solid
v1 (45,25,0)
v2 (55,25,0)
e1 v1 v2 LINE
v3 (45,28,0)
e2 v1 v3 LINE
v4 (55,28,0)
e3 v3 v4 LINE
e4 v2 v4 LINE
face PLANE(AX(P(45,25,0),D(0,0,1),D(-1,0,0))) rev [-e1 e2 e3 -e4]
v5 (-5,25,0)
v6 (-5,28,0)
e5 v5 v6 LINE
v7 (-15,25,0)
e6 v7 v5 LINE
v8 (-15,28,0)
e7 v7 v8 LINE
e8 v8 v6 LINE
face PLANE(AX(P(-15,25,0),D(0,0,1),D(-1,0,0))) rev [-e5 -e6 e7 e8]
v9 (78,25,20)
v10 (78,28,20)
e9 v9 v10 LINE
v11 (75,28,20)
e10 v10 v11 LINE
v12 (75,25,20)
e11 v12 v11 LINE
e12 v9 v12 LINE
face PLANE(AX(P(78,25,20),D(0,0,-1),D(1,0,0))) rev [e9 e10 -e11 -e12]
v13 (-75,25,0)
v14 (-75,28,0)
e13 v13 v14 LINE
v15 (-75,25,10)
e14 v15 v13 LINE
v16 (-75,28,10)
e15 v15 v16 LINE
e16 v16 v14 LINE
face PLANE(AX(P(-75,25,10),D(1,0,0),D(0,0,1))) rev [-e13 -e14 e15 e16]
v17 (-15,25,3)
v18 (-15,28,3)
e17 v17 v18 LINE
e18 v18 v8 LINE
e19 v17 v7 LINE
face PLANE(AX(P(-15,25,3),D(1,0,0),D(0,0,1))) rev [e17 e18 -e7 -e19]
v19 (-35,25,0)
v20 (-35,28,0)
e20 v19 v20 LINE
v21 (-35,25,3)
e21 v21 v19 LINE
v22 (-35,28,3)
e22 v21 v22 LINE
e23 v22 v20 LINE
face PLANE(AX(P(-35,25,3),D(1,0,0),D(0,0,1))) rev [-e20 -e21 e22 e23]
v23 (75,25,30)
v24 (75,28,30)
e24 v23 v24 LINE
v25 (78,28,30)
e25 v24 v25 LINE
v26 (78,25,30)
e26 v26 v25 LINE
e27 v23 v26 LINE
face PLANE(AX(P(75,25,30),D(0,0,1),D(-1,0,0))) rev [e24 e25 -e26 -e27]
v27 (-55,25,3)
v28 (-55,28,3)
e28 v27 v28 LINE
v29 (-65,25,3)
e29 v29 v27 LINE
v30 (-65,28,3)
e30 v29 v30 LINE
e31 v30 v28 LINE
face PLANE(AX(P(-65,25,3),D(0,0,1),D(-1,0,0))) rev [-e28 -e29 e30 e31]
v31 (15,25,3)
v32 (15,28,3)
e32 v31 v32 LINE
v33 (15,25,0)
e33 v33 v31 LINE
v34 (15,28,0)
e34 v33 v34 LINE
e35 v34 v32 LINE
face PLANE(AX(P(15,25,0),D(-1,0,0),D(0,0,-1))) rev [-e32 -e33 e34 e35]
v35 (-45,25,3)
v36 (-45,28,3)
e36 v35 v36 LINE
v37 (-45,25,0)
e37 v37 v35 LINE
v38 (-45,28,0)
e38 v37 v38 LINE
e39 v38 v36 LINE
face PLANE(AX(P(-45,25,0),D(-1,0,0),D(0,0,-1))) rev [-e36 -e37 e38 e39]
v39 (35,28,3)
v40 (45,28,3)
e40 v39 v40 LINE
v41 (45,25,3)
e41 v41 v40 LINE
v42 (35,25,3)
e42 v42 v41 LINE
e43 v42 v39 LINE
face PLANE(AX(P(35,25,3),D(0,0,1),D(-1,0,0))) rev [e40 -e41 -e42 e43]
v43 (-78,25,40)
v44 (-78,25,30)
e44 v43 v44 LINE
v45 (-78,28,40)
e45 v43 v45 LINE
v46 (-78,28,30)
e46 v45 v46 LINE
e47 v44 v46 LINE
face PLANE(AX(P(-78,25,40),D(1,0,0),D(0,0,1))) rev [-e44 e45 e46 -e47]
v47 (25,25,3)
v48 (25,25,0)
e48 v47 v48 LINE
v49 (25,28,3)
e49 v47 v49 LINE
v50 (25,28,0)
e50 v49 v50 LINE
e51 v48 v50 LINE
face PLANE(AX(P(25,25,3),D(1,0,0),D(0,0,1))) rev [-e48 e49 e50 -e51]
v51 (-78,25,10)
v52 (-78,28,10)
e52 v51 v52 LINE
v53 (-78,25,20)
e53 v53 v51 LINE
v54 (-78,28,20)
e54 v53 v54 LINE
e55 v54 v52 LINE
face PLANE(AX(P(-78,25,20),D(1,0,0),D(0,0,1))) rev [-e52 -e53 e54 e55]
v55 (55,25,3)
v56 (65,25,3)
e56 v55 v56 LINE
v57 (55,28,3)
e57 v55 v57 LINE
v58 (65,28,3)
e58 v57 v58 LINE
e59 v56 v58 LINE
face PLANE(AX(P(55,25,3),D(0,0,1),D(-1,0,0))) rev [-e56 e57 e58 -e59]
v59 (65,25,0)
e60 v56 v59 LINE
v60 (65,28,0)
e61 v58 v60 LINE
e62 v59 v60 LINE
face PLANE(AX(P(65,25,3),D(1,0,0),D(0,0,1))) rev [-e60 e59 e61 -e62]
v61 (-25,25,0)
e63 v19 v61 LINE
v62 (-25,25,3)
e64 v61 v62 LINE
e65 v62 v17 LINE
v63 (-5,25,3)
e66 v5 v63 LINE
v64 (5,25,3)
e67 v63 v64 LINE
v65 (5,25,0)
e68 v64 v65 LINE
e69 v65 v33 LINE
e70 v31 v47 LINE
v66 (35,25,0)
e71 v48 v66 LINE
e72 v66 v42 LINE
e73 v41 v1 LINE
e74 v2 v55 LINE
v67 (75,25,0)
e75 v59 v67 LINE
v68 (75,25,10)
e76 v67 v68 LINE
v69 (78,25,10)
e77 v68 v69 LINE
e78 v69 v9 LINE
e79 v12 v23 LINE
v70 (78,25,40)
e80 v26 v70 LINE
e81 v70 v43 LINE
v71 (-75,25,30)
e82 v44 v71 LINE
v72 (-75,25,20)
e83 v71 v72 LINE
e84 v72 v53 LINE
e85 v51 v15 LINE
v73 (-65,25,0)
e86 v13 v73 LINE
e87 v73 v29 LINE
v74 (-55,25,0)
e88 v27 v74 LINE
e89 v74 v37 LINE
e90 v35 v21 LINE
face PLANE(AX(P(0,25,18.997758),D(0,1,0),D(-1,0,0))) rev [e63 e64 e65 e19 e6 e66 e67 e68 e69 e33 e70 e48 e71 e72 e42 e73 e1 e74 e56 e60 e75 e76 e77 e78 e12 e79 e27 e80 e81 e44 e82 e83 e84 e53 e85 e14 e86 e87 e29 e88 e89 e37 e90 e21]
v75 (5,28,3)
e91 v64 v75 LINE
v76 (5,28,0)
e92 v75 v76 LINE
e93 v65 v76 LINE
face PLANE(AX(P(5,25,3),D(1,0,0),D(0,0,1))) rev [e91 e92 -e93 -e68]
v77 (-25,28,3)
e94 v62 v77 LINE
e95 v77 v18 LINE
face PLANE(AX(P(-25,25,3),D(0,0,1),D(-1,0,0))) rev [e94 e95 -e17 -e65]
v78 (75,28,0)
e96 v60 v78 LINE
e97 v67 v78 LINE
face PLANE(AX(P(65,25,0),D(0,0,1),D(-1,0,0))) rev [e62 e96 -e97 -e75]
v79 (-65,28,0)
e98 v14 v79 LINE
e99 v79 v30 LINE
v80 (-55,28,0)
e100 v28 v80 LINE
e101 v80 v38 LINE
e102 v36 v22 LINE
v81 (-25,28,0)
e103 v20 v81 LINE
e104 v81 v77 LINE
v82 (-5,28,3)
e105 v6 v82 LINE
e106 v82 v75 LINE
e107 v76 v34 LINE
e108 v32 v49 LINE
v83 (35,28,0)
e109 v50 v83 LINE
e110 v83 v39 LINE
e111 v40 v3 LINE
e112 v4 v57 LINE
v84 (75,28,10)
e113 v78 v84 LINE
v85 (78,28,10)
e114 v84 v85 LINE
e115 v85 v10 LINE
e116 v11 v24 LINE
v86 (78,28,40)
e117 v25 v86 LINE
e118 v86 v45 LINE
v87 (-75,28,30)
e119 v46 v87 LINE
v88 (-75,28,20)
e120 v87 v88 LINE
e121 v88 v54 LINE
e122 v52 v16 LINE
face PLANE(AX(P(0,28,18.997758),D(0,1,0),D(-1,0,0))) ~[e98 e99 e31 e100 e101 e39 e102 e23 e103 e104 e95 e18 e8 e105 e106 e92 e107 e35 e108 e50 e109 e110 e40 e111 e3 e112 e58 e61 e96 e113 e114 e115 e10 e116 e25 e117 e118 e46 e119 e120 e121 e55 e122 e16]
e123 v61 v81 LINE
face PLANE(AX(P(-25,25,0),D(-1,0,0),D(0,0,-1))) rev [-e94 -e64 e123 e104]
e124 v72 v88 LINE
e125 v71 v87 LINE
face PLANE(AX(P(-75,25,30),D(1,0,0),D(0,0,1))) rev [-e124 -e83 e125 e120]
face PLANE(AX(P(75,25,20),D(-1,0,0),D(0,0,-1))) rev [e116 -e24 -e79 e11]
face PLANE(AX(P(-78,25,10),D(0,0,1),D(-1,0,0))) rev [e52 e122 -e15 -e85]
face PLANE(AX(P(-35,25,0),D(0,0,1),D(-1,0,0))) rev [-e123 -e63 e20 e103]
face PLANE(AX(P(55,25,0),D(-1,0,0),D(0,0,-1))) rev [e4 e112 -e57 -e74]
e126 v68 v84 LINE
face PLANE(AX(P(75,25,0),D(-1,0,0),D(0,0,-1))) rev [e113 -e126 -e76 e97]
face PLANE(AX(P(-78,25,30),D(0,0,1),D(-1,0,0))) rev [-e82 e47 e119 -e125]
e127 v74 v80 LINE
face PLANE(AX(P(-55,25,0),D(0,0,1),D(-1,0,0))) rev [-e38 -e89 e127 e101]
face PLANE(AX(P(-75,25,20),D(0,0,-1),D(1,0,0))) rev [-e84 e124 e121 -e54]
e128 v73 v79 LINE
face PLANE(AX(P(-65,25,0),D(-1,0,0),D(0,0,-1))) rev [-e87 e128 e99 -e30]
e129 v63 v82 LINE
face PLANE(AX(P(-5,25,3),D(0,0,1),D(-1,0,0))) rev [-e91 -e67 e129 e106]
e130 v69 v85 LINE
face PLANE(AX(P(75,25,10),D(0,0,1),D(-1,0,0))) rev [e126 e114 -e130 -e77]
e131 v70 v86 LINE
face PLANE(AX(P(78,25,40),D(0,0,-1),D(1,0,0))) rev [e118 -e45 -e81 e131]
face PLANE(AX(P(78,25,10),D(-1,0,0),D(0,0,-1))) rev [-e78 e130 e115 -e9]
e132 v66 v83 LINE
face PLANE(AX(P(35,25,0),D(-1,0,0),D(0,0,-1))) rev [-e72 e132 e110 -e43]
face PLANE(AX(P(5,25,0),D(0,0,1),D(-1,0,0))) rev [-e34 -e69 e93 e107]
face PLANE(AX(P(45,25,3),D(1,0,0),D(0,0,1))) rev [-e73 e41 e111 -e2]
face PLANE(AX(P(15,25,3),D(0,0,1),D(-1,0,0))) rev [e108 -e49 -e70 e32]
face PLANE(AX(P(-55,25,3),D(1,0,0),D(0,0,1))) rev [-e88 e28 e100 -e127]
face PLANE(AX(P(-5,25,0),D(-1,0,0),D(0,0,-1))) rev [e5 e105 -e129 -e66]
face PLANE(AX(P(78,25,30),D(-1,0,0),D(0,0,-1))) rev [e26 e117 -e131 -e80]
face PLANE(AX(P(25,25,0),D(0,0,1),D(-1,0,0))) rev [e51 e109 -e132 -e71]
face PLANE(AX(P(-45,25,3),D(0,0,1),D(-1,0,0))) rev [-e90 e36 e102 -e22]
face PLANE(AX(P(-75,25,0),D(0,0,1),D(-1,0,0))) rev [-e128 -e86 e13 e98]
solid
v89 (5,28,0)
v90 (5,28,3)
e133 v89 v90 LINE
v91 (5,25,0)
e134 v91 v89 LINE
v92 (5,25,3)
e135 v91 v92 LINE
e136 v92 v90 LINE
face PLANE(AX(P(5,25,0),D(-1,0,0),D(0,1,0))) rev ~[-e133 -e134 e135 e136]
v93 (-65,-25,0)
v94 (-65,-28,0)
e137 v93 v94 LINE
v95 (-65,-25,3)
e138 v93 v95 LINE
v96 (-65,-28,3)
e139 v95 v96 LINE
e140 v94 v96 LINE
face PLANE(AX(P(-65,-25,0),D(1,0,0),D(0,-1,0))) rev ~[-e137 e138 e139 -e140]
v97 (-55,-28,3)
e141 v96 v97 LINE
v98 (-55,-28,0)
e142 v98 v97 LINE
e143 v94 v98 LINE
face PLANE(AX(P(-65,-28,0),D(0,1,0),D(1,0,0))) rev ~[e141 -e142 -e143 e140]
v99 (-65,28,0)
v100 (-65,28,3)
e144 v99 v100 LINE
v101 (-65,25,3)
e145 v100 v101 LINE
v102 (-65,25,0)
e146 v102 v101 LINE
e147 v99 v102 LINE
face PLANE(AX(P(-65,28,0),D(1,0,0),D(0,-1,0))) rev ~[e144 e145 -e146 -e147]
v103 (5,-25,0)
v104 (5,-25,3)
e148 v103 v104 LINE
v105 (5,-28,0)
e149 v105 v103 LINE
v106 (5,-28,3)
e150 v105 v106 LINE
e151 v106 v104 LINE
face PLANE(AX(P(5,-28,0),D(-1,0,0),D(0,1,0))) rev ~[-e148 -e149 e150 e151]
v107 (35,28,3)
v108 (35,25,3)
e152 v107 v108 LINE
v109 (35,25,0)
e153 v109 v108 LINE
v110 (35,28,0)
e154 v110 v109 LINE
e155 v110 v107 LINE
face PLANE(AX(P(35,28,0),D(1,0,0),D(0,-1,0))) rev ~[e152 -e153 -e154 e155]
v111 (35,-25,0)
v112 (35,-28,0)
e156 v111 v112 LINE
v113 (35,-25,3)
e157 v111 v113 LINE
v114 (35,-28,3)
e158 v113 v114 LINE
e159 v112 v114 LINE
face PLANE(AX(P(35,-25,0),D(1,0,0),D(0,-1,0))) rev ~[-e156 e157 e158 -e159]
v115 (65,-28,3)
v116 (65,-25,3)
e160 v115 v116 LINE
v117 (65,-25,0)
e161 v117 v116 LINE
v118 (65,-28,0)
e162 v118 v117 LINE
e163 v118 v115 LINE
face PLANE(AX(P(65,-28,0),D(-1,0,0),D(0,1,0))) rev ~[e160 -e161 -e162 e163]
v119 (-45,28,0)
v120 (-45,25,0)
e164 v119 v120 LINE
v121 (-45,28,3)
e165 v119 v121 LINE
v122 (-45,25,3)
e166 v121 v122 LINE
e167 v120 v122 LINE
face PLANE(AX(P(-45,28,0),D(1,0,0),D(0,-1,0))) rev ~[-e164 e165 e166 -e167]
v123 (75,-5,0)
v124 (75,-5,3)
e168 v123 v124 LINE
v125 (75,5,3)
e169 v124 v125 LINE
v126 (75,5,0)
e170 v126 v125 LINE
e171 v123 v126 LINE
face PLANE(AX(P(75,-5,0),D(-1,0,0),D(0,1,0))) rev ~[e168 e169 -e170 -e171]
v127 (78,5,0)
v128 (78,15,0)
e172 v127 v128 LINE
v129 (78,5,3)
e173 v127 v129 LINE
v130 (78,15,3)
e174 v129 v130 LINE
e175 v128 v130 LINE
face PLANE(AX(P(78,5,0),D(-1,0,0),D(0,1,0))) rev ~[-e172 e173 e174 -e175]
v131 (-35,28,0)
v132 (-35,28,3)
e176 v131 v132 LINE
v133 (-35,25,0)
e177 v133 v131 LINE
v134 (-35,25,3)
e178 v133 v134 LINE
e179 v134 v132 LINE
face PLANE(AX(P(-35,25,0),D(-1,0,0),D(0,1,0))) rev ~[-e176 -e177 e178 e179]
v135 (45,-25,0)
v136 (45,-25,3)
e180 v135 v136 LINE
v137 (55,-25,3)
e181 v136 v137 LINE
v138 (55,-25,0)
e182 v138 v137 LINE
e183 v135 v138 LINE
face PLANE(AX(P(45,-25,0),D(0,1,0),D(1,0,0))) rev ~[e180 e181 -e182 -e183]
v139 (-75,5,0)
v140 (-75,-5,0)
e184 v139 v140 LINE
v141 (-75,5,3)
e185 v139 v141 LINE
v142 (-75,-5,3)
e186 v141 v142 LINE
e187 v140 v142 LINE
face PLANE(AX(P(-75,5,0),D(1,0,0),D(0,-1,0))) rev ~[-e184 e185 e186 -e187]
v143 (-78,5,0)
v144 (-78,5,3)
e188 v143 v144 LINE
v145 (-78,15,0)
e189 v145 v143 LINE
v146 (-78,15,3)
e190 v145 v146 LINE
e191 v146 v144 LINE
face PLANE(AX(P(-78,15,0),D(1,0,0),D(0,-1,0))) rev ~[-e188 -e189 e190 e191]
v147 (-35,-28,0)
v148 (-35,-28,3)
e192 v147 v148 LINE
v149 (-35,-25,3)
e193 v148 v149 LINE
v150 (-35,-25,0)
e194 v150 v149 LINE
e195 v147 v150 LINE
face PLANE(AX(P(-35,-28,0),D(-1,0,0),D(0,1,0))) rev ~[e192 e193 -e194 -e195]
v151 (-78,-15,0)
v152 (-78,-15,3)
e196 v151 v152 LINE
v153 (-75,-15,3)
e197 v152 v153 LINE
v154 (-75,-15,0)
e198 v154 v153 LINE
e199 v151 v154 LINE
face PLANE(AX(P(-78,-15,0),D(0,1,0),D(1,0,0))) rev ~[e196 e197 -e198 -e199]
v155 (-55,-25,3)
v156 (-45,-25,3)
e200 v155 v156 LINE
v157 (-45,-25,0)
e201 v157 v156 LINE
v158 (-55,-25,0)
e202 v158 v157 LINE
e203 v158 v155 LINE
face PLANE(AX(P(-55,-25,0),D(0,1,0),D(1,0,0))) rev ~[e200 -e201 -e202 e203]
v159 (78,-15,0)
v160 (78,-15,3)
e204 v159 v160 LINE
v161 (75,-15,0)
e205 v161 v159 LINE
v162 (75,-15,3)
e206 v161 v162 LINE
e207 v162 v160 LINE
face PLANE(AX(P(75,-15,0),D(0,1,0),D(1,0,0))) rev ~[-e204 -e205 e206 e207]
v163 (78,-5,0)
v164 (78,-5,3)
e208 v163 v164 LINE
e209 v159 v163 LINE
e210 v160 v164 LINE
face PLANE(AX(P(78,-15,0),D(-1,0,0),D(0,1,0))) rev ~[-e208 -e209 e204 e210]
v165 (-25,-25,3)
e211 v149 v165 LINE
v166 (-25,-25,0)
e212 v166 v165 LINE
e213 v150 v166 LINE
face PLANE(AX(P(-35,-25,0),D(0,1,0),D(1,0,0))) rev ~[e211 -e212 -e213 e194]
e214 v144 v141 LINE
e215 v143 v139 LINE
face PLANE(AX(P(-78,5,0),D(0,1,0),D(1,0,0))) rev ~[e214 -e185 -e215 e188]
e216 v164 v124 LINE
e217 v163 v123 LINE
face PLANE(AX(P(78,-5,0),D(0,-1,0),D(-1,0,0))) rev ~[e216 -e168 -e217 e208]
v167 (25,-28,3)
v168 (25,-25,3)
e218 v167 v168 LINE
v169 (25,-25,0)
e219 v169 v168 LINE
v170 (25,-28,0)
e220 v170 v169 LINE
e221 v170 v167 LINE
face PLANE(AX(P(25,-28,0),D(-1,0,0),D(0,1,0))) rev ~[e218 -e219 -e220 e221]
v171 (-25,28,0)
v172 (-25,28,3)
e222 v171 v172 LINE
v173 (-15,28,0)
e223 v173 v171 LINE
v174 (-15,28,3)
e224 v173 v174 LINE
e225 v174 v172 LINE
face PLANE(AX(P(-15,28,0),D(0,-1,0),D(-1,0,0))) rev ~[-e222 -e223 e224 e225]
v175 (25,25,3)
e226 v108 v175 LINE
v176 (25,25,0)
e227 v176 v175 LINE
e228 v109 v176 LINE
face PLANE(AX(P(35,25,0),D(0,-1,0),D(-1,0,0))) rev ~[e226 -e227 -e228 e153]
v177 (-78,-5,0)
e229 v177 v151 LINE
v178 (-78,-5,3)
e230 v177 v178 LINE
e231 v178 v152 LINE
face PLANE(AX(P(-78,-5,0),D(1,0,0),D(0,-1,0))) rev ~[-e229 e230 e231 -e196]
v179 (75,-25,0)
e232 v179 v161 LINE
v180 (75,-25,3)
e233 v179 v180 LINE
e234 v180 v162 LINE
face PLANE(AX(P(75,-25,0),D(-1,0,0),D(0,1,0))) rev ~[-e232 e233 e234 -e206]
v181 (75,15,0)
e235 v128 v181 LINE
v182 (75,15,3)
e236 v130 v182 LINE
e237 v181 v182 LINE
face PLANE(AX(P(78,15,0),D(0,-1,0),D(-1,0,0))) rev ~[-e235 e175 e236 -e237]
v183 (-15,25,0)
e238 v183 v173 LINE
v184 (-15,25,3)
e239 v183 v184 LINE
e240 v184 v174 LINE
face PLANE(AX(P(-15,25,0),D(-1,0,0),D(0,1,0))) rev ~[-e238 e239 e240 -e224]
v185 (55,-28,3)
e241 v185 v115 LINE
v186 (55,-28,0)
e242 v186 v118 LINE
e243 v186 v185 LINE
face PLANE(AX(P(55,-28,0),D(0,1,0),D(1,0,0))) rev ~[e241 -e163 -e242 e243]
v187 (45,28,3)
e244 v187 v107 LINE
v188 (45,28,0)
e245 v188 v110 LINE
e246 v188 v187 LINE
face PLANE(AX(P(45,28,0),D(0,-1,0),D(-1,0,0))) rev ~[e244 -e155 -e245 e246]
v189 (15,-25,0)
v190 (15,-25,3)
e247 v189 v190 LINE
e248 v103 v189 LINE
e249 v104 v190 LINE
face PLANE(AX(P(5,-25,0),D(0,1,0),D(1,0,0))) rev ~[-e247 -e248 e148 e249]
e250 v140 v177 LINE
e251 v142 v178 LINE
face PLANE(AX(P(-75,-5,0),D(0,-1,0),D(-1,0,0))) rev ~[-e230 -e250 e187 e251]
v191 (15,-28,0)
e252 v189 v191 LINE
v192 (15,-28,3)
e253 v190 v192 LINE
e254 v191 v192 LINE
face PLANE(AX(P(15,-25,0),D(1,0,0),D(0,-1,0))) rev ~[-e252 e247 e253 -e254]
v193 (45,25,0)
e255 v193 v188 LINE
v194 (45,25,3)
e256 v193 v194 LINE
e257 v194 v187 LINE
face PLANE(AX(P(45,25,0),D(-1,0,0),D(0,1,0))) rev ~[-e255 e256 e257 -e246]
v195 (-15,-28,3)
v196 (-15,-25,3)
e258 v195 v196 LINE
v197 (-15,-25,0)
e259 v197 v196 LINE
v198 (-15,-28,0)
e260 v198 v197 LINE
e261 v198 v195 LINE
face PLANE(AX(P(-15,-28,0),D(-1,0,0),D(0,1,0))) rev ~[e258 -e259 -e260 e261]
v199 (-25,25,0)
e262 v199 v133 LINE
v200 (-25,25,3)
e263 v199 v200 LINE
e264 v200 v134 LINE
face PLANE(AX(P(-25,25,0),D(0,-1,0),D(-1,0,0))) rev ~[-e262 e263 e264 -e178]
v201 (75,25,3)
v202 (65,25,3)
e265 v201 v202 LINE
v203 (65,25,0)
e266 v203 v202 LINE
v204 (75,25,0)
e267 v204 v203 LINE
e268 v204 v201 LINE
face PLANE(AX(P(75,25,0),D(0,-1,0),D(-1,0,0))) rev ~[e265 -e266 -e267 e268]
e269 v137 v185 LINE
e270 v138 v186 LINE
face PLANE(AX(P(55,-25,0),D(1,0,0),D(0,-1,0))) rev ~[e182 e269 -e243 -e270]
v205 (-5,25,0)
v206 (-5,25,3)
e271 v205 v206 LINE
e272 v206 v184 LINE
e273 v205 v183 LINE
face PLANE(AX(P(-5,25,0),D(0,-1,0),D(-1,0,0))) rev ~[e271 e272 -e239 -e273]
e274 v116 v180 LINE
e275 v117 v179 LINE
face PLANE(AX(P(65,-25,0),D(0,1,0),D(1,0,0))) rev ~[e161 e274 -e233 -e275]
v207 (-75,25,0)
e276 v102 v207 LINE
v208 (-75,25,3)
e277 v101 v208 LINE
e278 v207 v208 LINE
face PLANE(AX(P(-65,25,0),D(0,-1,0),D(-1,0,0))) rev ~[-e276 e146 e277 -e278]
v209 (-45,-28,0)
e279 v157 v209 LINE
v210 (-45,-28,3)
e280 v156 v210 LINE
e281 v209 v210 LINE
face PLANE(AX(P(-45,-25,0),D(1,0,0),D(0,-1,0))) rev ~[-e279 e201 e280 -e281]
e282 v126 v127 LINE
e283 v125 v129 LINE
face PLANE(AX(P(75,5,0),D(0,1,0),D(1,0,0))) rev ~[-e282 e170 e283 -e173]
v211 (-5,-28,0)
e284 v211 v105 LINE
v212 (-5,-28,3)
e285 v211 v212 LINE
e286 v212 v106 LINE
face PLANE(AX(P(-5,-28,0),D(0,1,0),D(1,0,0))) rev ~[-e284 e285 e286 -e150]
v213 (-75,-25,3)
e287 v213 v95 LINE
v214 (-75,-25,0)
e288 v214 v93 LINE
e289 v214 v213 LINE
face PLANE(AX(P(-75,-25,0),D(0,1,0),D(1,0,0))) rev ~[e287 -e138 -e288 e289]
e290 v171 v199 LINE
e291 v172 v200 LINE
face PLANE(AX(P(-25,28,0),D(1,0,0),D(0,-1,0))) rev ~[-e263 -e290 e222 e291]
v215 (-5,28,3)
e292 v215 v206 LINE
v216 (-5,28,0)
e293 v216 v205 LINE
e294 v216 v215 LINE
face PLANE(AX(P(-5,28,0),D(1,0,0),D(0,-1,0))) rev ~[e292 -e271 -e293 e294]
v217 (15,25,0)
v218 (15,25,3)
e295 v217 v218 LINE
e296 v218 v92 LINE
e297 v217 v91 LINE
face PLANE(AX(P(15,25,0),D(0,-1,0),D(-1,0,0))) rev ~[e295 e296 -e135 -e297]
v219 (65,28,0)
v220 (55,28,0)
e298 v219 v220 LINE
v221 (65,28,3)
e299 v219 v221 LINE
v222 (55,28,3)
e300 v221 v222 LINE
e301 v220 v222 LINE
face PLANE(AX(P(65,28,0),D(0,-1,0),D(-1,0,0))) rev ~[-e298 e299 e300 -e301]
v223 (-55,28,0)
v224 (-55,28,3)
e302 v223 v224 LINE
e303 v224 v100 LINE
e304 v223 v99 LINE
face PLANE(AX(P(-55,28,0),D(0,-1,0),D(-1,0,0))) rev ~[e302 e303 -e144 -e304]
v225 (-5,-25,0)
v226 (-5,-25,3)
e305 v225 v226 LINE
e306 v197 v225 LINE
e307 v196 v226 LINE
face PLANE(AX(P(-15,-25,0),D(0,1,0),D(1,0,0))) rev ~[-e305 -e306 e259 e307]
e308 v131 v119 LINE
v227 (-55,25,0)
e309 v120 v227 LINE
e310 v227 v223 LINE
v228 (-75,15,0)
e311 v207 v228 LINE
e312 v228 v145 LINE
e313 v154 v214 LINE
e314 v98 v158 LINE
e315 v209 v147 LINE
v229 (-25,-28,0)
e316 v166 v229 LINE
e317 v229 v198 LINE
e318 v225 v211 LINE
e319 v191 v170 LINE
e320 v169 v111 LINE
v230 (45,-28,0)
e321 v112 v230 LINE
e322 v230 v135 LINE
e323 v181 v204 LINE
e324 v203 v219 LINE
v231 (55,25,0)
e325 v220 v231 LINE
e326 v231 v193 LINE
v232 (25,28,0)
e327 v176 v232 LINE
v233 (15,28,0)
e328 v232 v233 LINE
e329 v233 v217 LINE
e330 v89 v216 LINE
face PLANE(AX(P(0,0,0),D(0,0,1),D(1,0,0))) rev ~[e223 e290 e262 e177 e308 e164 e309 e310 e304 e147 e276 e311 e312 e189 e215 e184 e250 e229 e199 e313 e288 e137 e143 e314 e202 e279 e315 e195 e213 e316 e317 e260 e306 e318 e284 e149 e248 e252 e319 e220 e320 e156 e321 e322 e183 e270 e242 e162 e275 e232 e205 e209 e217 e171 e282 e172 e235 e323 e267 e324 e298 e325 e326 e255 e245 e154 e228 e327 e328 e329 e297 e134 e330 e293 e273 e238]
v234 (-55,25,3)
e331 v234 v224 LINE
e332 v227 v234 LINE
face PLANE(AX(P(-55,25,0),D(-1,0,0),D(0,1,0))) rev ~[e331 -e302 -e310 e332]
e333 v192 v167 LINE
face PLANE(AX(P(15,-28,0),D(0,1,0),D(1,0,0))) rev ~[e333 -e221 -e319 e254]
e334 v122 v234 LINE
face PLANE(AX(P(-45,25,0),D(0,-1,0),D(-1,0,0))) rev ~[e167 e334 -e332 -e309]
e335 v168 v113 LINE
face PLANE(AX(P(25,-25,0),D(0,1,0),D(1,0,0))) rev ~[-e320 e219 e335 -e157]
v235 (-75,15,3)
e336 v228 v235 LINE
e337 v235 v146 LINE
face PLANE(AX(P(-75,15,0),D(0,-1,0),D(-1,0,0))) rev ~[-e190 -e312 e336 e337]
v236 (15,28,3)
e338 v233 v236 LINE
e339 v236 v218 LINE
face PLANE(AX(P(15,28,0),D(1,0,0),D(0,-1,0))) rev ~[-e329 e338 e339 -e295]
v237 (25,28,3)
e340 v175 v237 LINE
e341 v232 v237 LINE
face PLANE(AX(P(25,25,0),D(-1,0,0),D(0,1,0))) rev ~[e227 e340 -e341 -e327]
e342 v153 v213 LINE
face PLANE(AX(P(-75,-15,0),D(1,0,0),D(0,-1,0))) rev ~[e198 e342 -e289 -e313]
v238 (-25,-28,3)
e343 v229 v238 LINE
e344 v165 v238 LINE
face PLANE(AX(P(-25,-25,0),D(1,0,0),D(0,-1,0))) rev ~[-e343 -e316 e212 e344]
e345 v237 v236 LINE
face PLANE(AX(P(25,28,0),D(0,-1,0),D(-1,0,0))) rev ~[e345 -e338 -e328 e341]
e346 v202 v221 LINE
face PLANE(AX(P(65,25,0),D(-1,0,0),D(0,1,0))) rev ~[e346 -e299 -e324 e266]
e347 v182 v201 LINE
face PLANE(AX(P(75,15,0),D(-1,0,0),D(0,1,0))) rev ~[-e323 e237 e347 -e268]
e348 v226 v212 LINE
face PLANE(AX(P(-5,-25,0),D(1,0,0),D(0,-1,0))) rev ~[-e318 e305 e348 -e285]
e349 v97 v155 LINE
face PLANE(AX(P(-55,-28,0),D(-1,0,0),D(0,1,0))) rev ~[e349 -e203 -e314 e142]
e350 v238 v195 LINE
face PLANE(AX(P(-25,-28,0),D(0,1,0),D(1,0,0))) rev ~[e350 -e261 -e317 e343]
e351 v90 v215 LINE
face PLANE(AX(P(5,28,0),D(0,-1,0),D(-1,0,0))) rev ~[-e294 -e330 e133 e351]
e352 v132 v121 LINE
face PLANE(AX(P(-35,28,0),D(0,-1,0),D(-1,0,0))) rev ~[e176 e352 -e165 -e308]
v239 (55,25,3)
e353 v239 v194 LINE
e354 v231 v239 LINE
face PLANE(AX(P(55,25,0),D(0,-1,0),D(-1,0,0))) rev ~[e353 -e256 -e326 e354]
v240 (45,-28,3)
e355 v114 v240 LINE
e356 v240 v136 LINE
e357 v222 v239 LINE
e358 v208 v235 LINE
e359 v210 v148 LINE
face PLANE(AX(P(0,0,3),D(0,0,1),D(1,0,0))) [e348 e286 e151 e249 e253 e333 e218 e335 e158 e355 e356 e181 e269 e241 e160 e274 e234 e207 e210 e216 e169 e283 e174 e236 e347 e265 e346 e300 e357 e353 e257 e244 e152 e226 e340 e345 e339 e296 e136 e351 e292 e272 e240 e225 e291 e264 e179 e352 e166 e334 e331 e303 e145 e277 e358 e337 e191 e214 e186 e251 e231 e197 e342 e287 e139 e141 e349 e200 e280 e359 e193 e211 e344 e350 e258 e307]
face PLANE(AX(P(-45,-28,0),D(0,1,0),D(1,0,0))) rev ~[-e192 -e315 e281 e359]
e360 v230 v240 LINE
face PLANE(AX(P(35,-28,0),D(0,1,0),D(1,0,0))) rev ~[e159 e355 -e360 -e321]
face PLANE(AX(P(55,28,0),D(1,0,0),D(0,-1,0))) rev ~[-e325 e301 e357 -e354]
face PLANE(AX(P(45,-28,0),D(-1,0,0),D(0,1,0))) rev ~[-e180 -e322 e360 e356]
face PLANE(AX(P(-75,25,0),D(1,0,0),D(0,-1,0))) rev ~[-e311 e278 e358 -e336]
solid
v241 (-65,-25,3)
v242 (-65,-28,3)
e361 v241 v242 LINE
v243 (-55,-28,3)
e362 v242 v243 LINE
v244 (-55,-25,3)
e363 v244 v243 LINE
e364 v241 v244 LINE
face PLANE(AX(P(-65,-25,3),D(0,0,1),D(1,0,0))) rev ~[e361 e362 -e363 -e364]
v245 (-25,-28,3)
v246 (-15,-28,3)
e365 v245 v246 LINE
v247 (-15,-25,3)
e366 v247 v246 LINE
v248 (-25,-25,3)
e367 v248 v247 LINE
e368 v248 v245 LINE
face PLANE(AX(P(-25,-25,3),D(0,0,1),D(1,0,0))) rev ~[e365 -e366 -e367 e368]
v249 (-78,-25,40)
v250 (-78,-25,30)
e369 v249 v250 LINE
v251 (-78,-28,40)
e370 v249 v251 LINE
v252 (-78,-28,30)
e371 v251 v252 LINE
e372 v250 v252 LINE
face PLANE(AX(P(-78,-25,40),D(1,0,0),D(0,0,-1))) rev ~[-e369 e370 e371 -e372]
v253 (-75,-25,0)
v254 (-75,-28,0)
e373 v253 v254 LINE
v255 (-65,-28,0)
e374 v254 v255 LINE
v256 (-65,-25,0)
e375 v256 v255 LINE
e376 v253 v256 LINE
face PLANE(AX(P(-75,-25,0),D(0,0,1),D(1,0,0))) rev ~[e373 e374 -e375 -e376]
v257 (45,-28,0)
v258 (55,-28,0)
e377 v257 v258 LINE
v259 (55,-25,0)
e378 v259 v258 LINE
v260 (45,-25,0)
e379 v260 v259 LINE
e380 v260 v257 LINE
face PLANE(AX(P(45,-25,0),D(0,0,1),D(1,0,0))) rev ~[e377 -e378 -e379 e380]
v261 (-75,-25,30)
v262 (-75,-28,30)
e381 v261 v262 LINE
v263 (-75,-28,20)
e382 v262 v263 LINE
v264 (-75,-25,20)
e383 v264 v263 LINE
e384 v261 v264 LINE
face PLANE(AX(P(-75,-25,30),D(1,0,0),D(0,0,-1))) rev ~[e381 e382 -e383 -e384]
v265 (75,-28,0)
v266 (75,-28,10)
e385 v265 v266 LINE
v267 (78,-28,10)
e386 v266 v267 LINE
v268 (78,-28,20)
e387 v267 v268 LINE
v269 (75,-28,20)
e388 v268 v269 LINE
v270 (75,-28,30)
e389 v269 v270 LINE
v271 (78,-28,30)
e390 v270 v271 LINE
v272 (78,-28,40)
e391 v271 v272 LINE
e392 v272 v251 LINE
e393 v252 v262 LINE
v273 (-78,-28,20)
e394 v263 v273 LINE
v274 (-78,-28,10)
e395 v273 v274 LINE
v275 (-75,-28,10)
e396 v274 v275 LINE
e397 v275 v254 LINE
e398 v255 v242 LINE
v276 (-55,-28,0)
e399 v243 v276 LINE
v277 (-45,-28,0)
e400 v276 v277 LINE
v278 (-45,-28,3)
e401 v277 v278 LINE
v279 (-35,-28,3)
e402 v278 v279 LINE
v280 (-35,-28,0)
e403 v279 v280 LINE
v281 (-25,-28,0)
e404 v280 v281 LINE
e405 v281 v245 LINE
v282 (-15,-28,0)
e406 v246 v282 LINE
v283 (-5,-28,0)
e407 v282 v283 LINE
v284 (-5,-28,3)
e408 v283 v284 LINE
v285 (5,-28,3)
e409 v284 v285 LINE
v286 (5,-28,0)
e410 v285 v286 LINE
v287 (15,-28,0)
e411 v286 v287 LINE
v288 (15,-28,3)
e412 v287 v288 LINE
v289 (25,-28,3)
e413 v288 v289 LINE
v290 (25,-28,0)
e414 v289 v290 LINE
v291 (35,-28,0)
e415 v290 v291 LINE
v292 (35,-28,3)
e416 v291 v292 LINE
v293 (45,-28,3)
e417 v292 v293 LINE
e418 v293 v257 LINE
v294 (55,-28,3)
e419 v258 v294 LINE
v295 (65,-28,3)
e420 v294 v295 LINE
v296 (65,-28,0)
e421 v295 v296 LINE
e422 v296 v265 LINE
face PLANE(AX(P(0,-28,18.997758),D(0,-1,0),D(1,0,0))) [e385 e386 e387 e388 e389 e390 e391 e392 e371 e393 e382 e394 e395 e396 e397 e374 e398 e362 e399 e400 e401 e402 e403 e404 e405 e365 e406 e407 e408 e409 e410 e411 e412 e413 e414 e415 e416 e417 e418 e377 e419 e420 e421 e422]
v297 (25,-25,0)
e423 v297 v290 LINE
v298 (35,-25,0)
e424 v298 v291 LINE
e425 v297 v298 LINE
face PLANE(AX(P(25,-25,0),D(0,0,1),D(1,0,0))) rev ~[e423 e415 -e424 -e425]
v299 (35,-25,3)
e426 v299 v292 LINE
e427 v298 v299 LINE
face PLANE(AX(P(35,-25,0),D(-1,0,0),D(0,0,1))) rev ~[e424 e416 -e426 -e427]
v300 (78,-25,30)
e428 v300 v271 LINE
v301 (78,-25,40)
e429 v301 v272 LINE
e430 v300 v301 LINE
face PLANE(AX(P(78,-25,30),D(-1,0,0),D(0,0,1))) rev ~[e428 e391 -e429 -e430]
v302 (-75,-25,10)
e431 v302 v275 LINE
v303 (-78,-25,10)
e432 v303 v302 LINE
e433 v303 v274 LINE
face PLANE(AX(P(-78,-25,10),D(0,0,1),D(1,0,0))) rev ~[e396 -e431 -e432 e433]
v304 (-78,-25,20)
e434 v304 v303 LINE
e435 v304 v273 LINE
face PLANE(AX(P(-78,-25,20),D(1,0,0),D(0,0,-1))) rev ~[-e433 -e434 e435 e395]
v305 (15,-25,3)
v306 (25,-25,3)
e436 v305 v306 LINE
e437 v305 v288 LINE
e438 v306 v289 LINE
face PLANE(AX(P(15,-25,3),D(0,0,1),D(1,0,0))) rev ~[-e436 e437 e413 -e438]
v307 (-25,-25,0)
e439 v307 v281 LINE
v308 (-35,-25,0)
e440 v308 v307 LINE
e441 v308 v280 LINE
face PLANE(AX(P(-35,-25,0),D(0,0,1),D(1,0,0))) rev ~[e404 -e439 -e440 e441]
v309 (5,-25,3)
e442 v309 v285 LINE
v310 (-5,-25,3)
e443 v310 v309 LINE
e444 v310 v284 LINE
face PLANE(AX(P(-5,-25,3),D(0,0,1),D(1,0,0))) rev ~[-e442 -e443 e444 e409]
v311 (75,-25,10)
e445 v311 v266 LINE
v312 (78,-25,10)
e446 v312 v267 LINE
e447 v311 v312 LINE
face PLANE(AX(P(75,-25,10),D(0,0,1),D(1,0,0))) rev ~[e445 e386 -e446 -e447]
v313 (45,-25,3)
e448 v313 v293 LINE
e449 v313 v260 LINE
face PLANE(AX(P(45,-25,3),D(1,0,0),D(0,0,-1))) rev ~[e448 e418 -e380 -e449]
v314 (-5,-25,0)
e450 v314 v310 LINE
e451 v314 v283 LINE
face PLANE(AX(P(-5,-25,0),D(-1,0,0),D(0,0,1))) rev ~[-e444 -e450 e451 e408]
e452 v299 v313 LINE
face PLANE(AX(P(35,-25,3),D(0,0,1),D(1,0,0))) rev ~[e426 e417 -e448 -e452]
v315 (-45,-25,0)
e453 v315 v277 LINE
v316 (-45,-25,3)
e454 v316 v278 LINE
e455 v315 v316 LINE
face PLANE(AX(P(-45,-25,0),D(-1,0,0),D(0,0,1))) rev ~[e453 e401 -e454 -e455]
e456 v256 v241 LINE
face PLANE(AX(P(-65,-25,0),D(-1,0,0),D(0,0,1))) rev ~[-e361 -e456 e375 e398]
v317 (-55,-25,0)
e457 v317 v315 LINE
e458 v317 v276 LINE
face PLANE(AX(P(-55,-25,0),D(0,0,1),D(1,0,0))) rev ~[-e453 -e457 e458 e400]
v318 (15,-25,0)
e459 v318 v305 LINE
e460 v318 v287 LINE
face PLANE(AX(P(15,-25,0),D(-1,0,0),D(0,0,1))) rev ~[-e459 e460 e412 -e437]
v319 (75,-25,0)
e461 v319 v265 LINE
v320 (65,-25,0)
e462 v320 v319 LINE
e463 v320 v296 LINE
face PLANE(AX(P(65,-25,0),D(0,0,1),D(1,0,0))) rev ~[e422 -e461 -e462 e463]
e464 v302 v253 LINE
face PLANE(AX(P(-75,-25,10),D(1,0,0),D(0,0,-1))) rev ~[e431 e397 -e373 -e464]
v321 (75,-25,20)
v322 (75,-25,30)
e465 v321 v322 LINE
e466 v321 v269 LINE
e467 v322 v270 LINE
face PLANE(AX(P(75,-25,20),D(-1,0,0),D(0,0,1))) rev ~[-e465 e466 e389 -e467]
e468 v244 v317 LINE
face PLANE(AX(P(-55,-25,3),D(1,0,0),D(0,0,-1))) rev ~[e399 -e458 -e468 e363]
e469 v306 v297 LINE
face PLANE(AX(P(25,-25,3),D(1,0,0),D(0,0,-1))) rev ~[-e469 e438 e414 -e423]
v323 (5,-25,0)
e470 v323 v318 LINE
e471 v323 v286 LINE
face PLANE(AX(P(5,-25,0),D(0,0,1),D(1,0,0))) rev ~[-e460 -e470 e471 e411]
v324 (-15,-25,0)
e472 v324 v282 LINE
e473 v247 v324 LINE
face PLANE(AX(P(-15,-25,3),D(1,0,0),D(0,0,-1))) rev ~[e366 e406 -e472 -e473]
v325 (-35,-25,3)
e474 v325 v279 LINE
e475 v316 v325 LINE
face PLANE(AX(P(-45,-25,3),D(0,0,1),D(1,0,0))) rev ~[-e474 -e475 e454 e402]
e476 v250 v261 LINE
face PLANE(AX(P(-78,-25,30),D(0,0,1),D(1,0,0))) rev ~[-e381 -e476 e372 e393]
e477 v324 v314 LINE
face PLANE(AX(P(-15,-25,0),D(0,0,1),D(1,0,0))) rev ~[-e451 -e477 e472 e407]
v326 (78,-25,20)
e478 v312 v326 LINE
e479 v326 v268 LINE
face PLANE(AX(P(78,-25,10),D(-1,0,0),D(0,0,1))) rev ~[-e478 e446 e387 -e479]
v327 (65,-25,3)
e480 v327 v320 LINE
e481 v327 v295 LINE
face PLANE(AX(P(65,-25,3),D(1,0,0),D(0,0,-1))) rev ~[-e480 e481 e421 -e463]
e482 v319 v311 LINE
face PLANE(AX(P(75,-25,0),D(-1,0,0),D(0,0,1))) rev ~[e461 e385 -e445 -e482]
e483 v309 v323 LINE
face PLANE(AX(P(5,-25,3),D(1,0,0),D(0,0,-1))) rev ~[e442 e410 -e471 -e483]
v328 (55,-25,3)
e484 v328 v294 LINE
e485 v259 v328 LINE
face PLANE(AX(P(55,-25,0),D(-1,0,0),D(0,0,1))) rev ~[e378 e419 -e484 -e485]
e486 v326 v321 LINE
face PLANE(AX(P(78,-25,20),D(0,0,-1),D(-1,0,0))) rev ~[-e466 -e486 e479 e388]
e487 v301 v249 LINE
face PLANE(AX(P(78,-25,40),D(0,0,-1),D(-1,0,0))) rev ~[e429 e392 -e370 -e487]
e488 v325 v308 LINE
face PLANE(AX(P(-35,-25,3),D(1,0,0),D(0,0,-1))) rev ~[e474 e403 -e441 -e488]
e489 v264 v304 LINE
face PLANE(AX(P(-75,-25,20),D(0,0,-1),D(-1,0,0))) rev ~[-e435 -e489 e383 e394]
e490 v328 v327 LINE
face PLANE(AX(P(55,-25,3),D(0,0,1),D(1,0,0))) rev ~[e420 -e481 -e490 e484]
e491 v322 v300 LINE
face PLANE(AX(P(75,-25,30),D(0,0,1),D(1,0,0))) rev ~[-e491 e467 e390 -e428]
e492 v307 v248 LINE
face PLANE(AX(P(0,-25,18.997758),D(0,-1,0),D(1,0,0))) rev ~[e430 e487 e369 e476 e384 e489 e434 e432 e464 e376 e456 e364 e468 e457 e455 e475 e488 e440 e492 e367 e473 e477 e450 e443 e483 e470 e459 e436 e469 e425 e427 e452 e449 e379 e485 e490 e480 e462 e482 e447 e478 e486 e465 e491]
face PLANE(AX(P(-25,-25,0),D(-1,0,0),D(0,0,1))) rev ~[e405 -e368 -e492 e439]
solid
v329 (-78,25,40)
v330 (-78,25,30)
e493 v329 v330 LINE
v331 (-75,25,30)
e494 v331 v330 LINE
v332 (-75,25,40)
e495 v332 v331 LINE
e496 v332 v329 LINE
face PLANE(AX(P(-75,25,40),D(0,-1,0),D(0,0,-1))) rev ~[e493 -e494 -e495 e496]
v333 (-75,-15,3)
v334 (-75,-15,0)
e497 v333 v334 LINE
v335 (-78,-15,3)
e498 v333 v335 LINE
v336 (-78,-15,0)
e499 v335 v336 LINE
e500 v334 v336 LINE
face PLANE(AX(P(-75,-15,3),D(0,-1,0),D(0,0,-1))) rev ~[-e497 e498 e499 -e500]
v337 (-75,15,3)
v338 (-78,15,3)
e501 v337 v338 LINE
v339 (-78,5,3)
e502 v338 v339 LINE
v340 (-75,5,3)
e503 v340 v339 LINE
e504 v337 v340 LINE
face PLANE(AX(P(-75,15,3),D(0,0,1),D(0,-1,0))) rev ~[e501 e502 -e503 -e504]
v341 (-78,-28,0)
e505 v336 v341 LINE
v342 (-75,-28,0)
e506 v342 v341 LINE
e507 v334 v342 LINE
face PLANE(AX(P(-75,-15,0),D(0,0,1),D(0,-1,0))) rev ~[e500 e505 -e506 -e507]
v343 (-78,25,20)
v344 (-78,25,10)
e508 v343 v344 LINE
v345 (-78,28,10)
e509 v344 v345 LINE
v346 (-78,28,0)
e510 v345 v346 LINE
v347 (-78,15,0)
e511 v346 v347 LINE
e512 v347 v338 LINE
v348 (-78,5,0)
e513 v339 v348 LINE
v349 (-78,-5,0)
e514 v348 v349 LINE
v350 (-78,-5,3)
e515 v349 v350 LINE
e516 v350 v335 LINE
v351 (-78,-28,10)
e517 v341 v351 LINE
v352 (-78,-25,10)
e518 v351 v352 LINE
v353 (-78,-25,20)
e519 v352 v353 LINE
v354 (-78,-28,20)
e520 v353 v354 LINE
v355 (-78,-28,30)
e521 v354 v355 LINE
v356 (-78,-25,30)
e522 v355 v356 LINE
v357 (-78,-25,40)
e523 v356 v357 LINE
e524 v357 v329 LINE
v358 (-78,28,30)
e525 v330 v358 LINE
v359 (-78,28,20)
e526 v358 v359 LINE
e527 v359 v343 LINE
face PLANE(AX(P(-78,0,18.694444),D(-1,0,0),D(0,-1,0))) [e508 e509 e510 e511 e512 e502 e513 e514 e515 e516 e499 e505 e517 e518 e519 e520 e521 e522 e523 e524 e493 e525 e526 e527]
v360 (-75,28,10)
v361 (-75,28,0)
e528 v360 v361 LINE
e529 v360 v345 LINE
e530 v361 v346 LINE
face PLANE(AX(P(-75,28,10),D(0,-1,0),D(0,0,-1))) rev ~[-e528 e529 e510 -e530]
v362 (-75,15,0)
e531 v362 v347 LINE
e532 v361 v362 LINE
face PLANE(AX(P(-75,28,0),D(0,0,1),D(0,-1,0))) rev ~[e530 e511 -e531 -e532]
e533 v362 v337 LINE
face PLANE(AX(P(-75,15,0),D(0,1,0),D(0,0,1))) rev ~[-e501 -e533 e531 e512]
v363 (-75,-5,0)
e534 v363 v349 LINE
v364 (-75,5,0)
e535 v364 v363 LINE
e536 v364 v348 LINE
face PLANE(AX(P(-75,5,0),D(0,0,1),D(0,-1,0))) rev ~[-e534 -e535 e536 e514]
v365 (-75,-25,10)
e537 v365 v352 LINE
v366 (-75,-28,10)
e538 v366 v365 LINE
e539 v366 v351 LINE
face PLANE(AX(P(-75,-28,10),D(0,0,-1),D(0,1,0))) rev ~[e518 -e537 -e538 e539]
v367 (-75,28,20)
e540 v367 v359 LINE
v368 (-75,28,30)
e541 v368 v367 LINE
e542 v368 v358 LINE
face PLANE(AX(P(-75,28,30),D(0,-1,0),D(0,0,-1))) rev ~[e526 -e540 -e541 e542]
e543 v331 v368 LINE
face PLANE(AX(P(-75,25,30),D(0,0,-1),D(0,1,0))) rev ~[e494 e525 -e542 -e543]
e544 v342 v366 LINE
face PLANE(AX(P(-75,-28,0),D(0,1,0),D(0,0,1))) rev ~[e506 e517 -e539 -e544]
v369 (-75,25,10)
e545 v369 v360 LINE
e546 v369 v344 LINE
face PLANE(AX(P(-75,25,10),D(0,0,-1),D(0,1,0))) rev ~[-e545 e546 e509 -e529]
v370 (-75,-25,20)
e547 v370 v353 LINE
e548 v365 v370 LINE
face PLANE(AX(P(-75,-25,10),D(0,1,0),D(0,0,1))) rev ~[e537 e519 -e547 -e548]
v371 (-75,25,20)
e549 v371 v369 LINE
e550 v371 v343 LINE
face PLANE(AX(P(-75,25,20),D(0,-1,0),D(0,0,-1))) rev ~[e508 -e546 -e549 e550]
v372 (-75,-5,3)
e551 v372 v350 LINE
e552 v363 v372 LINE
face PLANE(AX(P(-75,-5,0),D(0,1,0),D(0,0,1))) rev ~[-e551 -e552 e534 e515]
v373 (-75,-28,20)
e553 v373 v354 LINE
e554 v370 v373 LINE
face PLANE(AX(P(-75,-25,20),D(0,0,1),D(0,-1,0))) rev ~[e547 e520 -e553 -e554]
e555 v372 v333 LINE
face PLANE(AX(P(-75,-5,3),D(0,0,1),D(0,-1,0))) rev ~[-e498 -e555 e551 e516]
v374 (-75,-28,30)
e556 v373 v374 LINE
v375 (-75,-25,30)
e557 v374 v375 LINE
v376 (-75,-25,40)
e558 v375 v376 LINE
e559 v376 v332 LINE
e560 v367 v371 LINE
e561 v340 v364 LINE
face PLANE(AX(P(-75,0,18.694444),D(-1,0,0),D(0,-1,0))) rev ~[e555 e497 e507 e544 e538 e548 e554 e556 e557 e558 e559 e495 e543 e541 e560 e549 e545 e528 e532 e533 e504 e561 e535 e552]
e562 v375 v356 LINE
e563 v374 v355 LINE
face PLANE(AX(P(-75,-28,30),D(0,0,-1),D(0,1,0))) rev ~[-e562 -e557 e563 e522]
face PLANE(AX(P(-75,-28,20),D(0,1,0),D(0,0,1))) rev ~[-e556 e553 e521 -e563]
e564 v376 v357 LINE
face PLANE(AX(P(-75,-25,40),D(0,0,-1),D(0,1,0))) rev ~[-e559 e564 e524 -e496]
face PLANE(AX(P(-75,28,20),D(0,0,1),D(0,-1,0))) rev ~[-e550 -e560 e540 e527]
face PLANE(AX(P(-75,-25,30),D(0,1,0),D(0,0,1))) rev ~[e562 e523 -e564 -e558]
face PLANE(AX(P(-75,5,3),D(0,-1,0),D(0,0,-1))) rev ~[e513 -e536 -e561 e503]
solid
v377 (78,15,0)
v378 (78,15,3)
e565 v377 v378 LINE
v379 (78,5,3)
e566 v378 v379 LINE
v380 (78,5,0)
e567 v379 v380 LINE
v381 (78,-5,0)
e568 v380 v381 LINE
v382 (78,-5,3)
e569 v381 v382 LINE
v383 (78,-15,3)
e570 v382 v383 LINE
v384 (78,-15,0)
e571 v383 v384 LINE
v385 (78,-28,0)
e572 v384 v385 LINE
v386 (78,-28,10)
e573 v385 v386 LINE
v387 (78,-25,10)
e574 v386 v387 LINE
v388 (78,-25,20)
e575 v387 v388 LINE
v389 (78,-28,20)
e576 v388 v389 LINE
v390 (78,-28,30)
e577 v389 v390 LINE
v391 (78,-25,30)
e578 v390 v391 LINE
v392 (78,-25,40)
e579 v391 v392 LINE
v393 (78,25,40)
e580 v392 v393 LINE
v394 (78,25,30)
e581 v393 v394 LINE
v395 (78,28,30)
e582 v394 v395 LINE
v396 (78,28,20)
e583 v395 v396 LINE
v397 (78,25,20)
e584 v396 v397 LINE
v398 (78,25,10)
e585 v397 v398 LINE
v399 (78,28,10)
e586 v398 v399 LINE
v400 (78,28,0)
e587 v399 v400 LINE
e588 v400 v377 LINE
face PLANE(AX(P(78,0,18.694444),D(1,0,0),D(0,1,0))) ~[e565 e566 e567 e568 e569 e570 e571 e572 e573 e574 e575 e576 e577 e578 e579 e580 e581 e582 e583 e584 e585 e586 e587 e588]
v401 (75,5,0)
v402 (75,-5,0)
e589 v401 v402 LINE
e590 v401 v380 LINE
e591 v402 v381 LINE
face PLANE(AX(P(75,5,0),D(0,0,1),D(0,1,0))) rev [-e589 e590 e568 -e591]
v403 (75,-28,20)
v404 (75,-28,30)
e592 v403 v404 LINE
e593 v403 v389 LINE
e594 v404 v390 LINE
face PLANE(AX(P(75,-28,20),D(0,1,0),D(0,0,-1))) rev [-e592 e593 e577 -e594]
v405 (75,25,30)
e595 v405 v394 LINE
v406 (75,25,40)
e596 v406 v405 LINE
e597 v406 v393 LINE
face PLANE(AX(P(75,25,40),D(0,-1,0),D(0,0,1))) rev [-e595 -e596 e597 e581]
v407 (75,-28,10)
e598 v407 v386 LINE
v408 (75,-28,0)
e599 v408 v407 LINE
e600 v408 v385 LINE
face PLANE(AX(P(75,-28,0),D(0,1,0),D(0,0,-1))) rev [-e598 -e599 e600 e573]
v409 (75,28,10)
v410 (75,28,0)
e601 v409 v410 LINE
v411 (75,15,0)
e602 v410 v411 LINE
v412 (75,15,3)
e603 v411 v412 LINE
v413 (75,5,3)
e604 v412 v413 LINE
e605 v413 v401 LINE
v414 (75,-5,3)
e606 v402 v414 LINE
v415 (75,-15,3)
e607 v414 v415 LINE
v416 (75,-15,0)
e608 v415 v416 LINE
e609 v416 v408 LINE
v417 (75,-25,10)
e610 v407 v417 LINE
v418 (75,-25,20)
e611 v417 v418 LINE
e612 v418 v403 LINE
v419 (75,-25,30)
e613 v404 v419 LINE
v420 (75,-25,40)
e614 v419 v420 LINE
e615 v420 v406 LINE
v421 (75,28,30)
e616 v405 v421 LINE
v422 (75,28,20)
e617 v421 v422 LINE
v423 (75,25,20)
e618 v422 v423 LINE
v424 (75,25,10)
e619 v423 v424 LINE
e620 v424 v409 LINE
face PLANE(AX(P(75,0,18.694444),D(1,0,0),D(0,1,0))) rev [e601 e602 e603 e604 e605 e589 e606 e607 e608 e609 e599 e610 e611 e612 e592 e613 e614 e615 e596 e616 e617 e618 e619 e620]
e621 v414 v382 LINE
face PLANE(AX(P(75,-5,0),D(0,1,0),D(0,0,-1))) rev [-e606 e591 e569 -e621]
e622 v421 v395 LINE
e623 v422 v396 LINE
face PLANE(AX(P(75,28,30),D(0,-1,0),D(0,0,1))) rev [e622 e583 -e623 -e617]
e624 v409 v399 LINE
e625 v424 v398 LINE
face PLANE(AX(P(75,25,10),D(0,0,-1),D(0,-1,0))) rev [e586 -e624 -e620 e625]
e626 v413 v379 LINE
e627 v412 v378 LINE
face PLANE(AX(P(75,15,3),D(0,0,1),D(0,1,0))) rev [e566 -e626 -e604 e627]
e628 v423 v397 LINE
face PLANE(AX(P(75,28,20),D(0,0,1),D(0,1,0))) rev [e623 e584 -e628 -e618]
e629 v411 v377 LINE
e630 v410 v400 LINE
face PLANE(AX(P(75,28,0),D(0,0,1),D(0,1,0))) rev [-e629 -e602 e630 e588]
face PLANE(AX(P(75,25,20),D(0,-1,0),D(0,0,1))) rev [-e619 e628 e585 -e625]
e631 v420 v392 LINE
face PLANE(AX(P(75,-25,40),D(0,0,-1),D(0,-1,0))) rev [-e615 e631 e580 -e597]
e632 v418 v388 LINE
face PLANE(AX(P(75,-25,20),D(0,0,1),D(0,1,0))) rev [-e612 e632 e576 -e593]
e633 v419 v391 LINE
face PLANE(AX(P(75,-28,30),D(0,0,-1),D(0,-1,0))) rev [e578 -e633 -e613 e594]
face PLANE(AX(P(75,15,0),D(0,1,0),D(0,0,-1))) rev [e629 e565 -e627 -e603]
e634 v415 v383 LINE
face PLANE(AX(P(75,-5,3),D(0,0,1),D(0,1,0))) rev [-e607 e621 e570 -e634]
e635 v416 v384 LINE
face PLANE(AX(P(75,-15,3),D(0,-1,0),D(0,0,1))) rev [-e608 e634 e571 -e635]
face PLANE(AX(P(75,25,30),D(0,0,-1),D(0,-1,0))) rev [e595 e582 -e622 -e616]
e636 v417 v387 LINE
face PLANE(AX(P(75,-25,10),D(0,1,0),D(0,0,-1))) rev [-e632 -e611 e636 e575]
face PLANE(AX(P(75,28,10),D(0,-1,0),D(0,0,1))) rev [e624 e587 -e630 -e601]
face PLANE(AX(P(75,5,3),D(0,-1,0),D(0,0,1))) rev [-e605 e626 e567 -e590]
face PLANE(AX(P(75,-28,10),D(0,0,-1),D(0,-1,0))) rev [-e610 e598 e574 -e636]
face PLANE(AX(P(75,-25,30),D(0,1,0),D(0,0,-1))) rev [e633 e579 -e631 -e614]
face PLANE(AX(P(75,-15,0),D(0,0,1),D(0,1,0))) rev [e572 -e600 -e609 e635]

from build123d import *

# Parameters (mm, degrees)
F1_DEPTH = 3
F3_DEPTH = 3
F5_DEPTH = 3


with BuildPart() as f1:
    # F0 (on Top) → F1 (new body)
    with BuildSketch(Plane.XY):
        Polygon((-75, -15), (-75, -25), (-65, -25), (-65, -28), (-55, -28), (-55, -25), (-45, -25), (-45, -28), (-35, -28), (-35, -25), (-25, -25), (-25, -28), (-15, -28), (-15, -25), (-5, -25), (-5, -28), (5, -28), (5, -25), (15, -25), (15, -28), (25, -28), (25, -25), (35, -25), (35, -28), (45, -28), (45, -25), (55, -25), (55, -28), (65, -28), (65, -25), (75, -25), (75, -15), (78, -15), (78, -5), (75, -5), (75, 5), (78, 5), (78, 15), (75, 15), (75, 25), (65, 25), (65, 28), (55, 28), (55, 25), (45, 25), (45, 28), (35, 28), (35, 25), (25, 25), (25, 28), (15, 28), (15, 25), (5, 25), (5, 28), (-5, 28), (-5, 25), (-15, 25), (-15, 28), (-25, 28), (-25, 25), (-35, 25), (-35, 28), (-45, 28), (-45, 25), (-55, 25), (-55, 28), (-65, 28), (-65, 25), (-75, 25), (-75, 15), (-78, 15), (-78, 5), (-75, 5), (-75, -5), (-78, -5), (-78, -15), align=None)
    extrude(amount=F1_DEPTH)


with BuildPart() as f3:
    # F2 (on face) → F3 (new body)
    with BuildSketch(Plane(origin=(-75, 0, 0), x_dir=(0, -1, 0), z_dir=(-1, 0, 0))):
        Polygon((-28, 0), (-15, 0), (-15, 3), (-5, 3), (-5, 0), (5, 0), (5, 3), (15, 3), (15, 0), (28, 0), (28, 10), (25, 10), (25, 20), (28, 20), (28, 30), (25, 30), (25, 40), (-25, 40), (-25, 30), (-28, 30), (-28, 20), (-25, 20), (-25, 10), (-28, 10), align=None)
    extrude(amount=F3_DEPTH)


with BuildPart() as f5:
    # F4 (on face) → F5 (new body)
    with BuildSketch(Plane.XZ.offset(25)):
        Polygon((-75, 10), (-75, 0), (-65, 0), (-65, 3), (-55, 3), (-55, 0), (-45, 0), (-45, 3), (-35, 3), (-35, 0), (-25, 0), (-25, 3), (-15, 3), (-15, 0), (-5, 0), (-5, 3), (5, 3), (5, 0), (15, 0), (15, 3), (25, 3), (25, 0), (35, 0), (35, 3), (45, 3), (45, 0), (55, 0), (55, 3), (65, 3), (65, 0), (75, 0), (75, 3), (75, 10), (78, 10), (78, 20), (75, 20), (75, 30), (78, 30), (78, 40), (-78, 40), (-78, 30), (-75, 30), (-75, 20), (-78, 20), (-78, 10), align=None)
    extrude(amount=F5_DEPTH)


with BuildPart() as f6_1:
    # F6: instance of F3
    add(f3.part.mirror(Plane.YZ))


with BuildPart() as f7_1:
    # F7: instance of F5
    add(f5.part.mirror(Plane.XZ))


solid = Compound([f1.part, f3.part, f5.part, f6_1.part, f7_1.part])
